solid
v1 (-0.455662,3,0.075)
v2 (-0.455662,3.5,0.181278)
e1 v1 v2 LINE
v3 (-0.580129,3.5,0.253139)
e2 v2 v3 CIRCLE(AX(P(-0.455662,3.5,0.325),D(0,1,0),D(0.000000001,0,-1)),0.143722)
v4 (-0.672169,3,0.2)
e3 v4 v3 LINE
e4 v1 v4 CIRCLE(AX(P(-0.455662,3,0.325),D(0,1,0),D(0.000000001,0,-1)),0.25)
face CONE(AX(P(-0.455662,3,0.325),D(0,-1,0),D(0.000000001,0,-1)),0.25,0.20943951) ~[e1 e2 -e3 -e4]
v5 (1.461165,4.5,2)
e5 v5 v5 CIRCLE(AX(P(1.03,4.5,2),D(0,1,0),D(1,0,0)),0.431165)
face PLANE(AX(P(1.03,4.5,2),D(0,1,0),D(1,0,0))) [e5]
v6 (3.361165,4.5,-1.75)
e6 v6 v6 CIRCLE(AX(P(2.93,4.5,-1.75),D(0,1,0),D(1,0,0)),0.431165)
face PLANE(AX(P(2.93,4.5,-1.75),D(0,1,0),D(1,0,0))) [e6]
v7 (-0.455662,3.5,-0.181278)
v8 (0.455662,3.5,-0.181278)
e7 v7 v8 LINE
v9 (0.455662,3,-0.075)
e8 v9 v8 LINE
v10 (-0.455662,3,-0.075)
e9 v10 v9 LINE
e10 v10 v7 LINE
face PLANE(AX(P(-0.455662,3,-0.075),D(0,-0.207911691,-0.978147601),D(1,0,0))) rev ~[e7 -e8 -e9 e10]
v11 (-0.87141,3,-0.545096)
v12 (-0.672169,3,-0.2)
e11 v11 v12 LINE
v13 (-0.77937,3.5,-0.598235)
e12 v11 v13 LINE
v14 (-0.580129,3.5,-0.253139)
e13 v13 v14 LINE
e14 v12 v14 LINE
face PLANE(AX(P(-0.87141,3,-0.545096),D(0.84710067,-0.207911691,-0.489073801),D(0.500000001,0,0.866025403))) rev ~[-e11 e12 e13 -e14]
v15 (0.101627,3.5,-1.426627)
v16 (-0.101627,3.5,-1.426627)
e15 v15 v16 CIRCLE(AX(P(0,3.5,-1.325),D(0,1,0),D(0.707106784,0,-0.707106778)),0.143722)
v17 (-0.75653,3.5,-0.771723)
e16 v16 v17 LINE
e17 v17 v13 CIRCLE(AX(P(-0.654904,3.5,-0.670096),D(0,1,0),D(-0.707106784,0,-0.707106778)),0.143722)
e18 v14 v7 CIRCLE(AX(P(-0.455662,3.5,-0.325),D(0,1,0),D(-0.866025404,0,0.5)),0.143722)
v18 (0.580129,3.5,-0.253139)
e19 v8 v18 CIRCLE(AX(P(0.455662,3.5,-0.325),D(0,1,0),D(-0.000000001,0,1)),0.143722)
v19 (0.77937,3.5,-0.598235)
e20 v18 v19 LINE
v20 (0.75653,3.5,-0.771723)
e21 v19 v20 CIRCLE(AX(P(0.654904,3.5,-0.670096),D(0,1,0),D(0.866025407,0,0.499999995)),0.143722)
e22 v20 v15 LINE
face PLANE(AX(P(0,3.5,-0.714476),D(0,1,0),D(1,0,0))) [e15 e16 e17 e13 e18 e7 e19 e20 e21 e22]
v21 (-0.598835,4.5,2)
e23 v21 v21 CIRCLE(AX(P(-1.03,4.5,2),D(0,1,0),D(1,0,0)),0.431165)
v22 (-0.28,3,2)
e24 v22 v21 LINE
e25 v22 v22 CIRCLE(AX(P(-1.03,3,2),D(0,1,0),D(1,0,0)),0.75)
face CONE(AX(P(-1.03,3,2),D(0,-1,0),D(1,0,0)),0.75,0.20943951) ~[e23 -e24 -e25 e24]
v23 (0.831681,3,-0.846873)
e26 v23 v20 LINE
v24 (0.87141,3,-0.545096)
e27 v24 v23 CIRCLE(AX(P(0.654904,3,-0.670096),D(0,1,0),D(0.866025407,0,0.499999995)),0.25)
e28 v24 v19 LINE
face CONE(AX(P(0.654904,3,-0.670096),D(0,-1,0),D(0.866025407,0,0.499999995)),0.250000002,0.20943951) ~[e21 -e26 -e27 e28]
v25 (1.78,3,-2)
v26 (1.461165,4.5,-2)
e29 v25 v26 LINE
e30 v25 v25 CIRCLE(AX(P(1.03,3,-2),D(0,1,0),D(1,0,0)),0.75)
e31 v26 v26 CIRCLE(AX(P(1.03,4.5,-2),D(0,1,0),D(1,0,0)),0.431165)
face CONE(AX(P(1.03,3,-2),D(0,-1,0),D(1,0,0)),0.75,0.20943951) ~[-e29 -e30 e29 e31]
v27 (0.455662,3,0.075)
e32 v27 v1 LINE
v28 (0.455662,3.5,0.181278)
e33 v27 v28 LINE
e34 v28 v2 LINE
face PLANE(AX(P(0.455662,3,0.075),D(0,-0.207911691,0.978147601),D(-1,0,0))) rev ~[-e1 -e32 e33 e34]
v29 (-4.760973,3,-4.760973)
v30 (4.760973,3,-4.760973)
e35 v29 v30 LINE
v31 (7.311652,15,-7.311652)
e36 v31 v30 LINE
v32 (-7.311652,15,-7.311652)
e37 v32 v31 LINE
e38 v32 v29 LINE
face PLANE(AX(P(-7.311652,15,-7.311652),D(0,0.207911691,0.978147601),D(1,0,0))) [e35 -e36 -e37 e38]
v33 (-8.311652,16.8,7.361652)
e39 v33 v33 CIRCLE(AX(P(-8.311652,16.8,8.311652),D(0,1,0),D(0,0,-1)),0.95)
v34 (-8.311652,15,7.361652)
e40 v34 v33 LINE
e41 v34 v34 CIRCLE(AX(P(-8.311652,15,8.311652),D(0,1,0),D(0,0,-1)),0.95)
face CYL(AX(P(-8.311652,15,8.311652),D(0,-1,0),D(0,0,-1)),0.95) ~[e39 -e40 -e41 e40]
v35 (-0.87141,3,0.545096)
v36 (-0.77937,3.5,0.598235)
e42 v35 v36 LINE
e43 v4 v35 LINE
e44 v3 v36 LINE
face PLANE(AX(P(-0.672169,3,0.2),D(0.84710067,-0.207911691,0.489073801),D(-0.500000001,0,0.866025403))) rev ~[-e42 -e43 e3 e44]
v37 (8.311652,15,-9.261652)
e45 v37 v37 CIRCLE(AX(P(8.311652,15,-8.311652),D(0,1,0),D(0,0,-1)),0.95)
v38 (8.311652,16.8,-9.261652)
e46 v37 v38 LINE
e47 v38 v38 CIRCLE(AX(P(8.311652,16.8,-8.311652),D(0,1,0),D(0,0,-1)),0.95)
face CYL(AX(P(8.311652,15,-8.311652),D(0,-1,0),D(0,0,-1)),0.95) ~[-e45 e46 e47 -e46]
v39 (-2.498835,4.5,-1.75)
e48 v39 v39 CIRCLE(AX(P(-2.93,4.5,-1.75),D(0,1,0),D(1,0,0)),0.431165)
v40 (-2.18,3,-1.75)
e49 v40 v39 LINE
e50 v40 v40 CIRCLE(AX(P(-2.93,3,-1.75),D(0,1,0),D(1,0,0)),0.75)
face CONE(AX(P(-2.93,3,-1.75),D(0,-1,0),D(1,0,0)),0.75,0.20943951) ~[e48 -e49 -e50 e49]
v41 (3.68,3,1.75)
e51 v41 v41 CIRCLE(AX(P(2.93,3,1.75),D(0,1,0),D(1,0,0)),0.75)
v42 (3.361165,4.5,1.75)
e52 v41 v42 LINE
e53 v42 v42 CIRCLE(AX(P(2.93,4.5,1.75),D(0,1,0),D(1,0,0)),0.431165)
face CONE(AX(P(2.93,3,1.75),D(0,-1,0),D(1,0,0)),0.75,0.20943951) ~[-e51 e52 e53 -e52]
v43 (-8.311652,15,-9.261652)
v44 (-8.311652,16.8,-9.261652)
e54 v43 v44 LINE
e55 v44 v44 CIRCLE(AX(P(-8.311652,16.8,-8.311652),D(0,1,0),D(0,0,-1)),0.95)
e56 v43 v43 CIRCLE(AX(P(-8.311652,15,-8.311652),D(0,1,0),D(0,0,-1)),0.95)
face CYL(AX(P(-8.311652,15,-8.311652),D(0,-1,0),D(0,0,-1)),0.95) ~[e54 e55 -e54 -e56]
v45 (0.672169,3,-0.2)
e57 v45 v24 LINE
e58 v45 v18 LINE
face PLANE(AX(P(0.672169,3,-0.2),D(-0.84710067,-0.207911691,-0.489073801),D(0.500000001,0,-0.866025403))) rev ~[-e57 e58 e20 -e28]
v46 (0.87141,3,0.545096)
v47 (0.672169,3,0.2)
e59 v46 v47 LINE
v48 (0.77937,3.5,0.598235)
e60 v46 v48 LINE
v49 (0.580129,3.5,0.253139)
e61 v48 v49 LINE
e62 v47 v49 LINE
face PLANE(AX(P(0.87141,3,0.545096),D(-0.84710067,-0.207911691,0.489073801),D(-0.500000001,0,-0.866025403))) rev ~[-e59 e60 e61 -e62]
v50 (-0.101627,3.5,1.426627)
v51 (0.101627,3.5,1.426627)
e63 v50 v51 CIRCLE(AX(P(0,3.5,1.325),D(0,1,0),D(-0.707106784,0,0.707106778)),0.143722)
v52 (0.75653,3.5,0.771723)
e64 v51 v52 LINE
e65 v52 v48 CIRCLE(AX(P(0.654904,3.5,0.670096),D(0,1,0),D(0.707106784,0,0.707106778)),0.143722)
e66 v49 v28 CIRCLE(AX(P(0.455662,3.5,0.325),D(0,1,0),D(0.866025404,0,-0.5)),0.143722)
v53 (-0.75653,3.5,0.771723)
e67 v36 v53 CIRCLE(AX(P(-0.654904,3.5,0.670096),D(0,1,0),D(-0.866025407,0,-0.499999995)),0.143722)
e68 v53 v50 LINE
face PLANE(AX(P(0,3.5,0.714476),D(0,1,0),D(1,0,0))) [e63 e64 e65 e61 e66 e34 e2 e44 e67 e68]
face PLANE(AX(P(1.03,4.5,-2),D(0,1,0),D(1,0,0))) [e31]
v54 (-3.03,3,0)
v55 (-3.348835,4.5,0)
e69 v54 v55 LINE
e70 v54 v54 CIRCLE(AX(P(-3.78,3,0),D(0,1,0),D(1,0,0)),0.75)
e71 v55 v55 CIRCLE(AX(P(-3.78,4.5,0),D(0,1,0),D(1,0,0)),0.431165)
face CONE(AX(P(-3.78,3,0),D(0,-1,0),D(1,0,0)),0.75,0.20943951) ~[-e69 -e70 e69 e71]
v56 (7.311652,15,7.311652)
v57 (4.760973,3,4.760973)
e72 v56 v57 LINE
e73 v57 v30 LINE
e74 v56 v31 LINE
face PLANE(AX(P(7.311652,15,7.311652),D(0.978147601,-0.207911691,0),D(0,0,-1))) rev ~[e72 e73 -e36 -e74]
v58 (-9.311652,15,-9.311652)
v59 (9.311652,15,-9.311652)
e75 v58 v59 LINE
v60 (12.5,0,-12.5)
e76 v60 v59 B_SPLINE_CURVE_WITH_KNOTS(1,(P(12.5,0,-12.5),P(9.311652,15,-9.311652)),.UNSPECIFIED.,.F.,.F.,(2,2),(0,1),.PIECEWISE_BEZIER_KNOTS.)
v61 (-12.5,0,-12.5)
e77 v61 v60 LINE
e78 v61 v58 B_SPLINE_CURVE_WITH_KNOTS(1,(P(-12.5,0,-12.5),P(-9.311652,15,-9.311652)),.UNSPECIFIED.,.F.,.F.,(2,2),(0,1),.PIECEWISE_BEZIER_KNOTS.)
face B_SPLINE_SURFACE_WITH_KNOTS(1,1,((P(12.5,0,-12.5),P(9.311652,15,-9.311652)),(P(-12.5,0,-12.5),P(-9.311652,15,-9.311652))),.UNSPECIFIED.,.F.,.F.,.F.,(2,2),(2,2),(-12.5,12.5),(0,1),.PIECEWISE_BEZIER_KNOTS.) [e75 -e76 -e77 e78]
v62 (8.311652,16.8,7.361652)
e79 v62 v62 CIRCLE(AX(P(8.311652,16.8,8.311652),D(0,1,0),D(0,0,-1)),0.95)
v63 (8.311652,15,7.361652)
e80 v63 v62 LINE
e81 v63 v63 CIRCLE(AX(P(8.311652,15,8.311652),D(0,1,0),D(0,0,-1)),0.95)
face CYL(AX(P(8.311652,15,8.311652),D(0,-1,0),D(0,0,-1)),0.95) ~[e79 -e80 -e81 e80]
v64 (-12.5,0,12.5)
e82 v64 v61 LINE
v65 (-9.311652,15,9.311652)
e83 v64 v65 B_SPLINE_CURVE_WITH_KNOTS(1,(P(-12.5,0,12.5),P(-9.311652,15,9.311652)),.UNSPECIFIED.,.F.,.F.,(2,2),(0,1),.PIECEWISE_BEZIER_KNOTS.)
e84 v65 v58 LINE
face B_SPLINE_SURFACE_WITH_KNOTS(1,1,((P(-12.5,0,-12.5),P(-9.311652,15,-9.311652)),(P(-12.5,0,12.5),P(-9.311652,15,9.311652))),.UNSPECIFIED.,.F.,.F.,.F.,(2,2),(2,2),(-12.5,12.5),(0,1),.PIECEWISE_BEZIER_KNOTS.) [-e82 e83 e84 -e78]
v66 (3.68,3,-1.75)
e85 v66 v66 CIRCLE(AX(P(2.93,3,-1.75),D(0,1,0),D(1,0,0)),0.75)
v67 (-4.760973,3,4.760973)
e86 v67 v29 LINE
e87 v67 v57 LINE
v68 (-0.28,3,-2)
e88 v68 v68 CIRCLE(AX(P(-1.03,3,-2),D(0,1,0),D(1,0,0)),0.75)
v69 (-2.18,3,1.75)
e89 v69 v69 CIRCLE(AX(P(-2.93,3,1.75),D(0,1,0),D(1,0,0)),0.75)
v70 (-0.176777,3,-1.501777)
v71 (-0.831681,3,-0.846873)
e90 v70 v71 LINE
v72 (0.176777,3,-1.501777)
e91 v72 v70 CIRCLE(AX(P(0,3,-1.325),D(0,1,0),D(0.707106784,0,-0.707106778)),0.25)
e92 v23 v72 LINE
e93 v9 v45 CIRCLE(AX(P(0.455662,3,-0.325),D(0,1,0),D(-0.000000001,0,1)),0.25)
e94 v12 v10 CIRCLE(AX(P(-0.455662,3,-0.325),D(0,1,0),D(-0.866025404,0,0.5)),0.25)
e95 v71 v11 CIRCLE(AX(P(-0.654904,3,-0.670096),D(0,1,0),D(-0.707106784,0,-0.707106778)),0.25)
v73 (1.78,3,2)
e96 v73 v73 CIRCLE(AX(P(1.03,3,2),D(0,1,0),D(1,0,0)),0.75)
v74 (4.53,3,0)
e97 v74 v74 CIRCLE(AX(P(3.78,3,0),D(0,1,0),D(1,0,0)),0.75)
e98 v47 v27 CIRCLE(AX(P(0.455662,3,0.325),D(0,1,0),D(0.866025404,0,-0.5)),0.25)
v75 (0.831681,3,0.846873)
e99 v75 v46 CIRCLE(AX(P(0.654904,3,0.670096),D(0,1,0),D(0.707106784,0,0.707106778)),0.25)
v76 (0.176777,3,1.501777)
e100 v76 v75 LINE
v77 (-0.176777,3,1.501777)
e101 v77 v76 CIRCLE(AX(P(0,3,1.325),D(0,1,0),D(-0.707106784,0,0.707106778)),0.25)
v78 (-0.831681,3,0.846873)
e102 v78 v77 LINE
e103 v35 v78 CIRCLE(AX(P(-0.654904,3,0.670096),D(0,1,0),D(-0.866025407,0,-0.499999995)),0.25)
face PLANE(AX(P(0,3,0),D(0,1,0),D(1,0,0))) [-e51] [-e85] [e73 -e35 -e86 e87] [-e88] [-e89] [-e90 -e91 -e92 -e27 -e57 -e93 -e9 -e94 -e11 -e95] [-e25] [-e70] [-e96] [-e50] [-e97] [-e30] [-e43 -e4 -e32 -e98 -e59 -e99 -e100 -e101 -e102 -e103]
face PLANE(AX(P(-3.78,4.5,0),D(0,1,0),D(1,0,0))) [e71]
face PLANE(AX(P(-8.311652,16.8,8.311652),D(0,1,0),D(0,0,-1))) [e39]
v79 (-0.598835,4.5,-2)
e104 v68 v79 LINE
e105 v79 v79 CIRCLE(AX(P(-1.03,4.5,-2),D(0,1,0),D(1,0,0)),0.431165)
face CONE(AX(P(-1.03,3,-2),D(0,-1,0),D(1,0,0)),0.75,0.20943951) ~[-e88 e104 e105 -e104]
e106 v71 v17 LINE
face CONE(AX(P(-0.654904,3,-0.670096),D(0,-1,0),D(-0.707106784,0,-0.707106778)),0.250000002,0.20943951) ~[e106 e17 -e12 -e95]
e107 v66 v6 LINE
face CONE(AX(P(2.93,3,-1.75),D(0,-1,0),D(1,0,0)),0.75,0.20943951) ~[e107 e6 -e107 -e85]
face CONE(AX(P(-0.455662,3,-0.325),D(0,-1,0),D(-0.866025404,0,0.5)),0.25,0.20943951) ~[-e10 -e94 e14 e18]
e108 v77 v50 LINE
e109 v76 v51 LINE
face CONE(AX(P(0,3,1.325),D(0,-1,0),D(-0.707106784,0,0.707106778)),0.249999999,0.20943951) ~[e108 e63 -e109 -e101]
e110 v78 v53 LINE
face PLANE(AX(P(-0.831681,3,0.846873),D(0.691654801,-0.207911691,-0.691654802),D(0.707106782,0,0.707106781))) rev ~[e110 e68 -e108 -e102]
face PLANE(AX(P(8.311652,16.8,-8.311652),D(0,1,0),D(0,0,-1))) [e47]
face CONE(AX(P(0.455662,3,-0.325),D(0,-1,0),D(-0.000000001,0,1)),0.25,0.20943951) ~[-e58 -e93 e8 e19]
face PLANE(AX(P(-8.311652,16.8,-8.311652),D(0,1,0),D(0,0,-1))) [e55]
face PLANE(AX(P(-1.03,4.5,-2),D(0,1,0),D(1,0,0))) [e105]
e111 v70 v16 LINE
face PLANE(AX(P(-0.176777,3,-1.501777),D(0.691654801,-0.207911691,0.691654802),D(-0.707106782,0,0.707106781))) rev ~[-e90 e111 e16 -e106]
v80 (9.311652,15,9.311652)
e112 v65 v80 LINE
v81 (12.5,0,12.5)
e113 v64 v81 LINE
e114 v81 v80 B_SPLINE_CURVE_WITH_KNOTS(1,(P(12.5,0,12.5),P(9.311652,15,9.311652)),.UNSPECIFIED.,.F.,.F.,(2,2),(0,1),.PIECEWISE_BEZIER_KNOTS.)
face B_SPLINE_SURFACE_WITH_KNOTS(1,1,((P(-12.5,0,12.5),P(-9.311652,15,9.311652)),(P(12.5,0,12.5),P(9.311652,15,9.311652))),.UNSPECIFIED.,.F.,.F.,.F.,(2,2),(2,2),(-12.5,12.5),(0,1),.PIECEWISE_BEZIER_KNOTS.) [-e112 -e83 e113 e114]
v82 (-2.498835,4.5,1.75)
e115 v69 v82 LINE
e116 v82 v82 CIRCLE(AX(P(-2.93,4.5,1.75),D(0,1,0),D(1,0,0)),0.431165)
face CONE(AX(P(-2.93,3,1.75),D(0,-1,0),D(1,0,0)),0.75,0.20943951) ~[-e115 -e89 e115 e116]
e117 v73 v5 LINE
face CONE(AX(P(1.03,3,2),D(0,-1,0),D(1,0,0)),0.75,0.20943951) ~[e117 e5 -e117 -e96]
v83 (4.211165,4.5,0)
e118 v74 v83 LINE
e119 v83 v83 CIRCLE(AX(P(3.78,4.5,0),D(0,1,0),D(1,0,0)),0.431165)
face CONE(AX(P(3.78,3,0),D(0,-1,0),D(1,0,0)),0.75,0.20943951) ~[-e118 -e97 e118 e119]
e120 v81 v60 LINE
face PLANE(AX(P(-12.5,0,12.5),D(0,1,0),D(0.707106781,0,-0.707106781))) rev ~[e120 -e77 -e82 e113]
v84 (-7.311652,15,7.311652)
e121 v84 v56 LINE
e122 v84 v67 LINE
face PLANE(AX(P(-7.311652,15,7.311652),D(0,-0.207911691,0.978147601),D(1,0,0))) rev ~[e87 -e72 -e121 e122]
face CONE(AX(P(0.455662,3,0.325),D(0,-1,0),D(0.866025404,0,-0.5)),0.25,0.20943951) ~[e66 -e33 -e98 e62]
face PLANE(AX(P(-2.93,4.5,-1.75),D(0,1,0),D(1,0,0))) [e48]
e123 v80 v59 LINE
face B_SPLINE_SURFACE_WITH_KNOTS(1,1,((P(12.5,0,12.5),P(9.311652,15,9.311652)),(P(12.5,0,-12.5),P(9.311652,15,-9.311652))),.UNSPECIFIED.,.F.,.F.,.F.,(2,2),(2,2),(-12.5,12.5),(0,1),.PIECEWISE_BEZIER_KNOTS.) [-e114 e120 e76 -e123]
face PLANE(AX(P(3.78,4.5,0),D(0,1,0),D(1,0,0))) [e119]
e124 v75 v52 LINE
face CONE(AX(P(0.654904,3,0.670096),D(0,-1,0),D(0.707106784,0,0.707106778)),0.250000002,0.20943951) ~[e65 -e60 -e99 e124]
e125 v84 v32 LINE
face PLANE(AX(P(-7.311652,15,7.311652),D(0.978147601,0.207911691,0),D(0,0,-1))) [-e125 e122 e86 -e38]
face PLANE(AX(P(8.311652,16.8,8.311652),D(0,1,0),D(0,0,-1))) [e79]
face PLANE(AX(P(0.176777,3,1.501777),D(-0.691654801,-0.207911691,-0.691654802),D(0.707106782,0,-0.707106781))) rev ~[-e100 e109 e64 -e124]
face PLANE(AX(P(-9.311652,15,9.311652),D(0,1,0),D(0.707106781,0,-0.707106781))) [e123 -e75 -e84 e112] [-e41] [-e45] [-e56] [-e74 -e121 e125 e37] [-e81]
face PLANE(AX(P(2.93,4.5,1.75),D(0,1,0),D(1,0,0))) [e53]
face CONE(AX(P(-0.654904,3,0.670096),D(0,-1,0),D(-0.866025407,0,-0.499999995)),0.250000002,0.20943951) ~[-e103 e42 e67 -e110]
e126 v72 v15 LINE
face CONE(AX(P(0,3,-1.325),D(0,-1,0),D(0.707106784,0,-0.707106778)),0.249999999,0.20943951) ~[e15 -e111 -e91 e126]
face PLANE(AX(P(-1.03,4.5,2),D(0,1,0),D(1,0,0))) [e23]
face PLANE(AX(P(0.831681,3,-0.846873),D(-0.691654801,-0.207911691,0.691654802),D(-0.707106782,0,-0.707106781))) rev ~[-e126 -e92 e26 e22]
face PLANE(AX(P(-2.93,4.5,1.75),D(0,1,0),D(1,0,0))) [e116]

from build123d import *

# Parameters (mm, degrees)
SKETCH4_W                     = 25
SKETCH4_H                     = 25
BASE_DEPTH                    = 15
BASE_TAPER                    = 12
SKETCH5_W                     = 14.62330315
SKETCH5_H                     = 14.62330315
RESERVOIR_DEPTH               = 12
RESERVOIR_DRAFT               = -12
SKETCH1_R                     = 0.75
PILLARS_DEPTH                 = 1.5
PILLARS_DRAFT                 = 12
PILLARS_PROFILE_2_DEPTH       = 1.5
PILLARS_PROFILE_2_DRAFT       = 12
PILLARS_PROFILE_3_DEPTH       = 1.5
PILLARS_PROFILE_3_DRAFT       = 12
PILLARS_PROFILE_4_DEPTH       = 1.5
PILLARS_PROFILE_4_DRAFT       = 12
PILLARS_PROFILE_5_DEPTH       = 1.5
PILLARS_PROFILE_5_DRAFT       = 12
PILLARS_PROFILE_6_DEPTH       = 1.5
PILLARS_PROFILE_6_DRAFT       = 12
PILLARS_PROFILE_7_DEPTH       = 1.5
PILLARS_PROFILE_7_DRAFT       = 12
PILLARS_PROFILE_8_DEPTH       = 1.5
PILLARS_PROFILE_8_DRAFT       = 12
PILLARS_PROFILE_9_DEPTH       = 1.5
PILLARS_PROFILE_9_DRAFT       = 12
PILLARS_PROFILE_10_DEPTH      = 1.5
PILLARS_PROFILE_10_DRAFT      = 12
CHANNEL_WALLS_DEPTH           = 0.5
CHANNEL_WALLS_DRAFT           = 12
CHANNEL_WALLS_PROFILE_2_DEPTH = 0.5
CHANNEL_WALLS_PROFILE_2_DRAFT = 12
SKETCH11_R                    = 0.95
PEGS_DEPTH                    = 1.8


with BuildPart() as part:
    # Sketch4 → Base (new body)
    with BuildSketch(Plane(origin=(0, 0, 0), x_dir=(1, 0, 0), z_dir=(0, 1, 0))):
        Rectangle(SKETCH4_W, SKETCH4_H)
    extrude(amount=BASE_DEPTH, taper=BASE_TAPER)


with BuildPart() as reservoir_tool:
    # Sketch5 → Reservoir (with draft: the straight prism first)
    with BuildSketch(Plane(origin=(0, 15, 0), x_dir=(1, 0, 0), z_dir=(0, 1, 0))):
        Rectangle(SKETCH5_W, SKETCH5_H)
    extrude(amount=-RESERVOIR_DEPTH)
    # Reservoir: the draft: its side faces are tilted about the plane it starts from
    reservoir_sides = [reservoir_tool.faces().sort_by_distance(p)[0] for p in [
        (-7.311651575, 9, 0),
        (0, 9, 7.311651575),
        (7.311651575, 9, 0),
        (0, 9, -7.311651575),
    ]]
    draft(reservoir_sides, Plane(origin=(0, 15, 0), x_dir=(1, 0, 0), z_dir=(0, 1, 0)), RESERVOIR_DRAFT)


with BuildPart() as part_1:
    add(part.part)

    # Reservoir: cut by reservoir_tool
    add(reservoir_tool.part, mode=Mode.SUBTRACT)


with BuildPart() as pillars_tool:
    # Sketch1 → Pillars (with draft: the straight prism first)
    with BuildSketch(Plane(origin=(0, 3, 0), x_dir=(1, 0, 0), z_dir=(0, 1, 0))):
        with Locations((-3.78, 0)):
            Circle(SKETCH1_R)
    extrude(amount=PILLARS_DEPTH)
    # Pillars: the draft: its side faces are tilted about the plane it starts from
    pillars_sides = [pillars_tool.faces().sort_by_distance(p)[0] for p in [
        (-4.53, 3.75, 0),
    ]]
    draft(pillars_sides, Plane(origin=(0, 3, 0), x_dir=(1, 0, 0), z_dir=(0, 1, 0)), PILLARS_DRAFT)


with BuildPart() as part_2:
    add(part_1.part)

    # Pillars: add pillars_tool
    add(pillars_tool.part)


with BuildPart() as pillars_profile_2_tool:
    # Sketch1 → Pillars profile 2 (with draft: the straight prism first)
    with BuildSketch(Plane(origin=(0, 3, 0), x_dir=(1, 0, 0), z_dir=(0, 1, 0))):
        with Locations((3.78, 0)):
            Circle(SKETCH1_R)
    extrude(amount=PILLARS_PROFILE_2_DEPTH)
    # Pillars profile 2: the draft: its side faces are tilted about the plane it starts from
    pillars_profile_2_sides = [pillars_profile_2_tool.faces().sort_by_distance(p)[0] for p in [
        (3.03, 3.75, 0),
    ]]
    draft(pillars_profile_2_sides, Plane(origin=(0, 3, 0), x_dir=(1, 0, 0), z_dir=(0, 1, 0)), PILLARS_PROFILE_2_DRAFT)


with BuildPart() as part_3:
    add(part_2.part)

    # Pillars profile 2: add pillars_profile_2_tool
    add(pillars_profile_2_tool.part)


with BuildPart() as pillars_profile_3_tool:
    # Sketch1 → Pillars profile 3 (with draft: the straight prism first)
    with BuildSketch(Plane(origin=(0, 3, 0), x_dir=(1, 0, 0), z_dir=(0, 1, 0))):
        with Locations((2.93, 1.75)):
            Circle(SKETCH1_R)
    extrude(amount=PILLARS_PROFILE_3_DEPTH)
    # Pillars profile 3: the draft: its side faces are tilted about the plane it starts from
    pillars_profile_3_sides = [pillars_profile_3_tool.faces().sort_by_distance(p)[0] for p in [
        (2.18, 3.75, -1.75),
    ]]
    draft(pillars_profile_3_sides, Plane(origin=(0, 3, 0), x_dir=(1, 0, 0), z_dir=(0, 1, 0)), PILLARS_PROFILE_3_DRAFT)


with BuildPart() as part_4:
    add(part_3.part)

    # Pillars profile 3: add pillars_profile_3_tool
    add(pillars_profile_3_tool.part)


with BuildPart() as pillars_profile_4_tool:
    # Sketch1 → Pillars profile 4 (with draft: the straight prism first)
    with BuildSketch(Plane(origin=(0, 3, 0), x_dir=(1, 0, 0), z_dir=(0, 1, 0))):
        with Locations((2.93, -1.75)):
            Circle(SKETCH1_R)
    extrude(amount=PILLARS_PROFILE_4_DEPTH)
    # Pillars profile 4: the draft: its side faces are tilted about the plane it starts from
    pillars_profile_4_sides = [pillars_profile_4_tool.faces().sort_by_distance(p)[0] for p in [
        (2.18, 3.75, 1.75),
    ]]
    draft(pillars_profile_4_sides, Plane(origin=(0, 3, 0), x_dir=(1, 0, 0), z_dir=(0, 1, 0)), PILLARS_PROFILE_4_DRAFT)


with BuildPart() as part_5:
    add(part_4.part)

    # Pillars profile 4: add pillars_profile_4_tool
    add(pillars_profile_4_tool.part)


with BuildPart() as pillars_profile_5_tool:
    # Sketch1 → Pillars profile 5 (with draft: the straight prism first)
    with BuildSketch(Plane(origin=(0, 3, 0), x_dir=(1, 0, 0), z_dir=(0, 1, 0))):
        with Locations((-2.93, -1.75)):
            Circle(SKETCH1_R)
    extrude(amount=PILLARS_PROFILE_5_DEPTH)
    # Pillars profile 5: the draft: its side faces are tilted about the plane it starts from
    pillars_profile_5_sides = [pillars_profile_5_tool.faces().sort_by_distance(p)[0] for p in [
        (-3.68, 3.75, 1.75),
    ]]
    draft(pillars_profile_5_sides, Plane(origin=(0, 3, 0), x_dir=(1, 0, 0), z_dir=(0, 1, 0)), PILLARS_PROFILE_5_DRAFT)


with BuildPart() as part_6:
    add(part_5.part)

    # Pillars profile 5: add pillars_profile_5_tool
    add(pillars_profile_5_tool.part)


with BuildPart() as pillars_profile_6_tool:
    # Sketch1 → Pillars profile 6 (with draft: the straight prism first)
    with BuildSketch(Plane(origin=(0, 3, 0), x_dir=(1, 0, 0), z_dir=(0, 1, 0))):
        with Locations((-2.93, 1.75)):
            Circle(SKETCH1_R)
    extrude(amount=PILLARS_PROFILE_6_DEPTH)
    # Pillars profile 6: the draft: its side faces are tilted about the plane it starts from
    pillars_profile_6_sides = [pillars_profile_6_tool.faces().sort_by_distance(p)[0] for p in [
        (-3.68, 3.75, -1.75),
    ]]
    draft(pillars_profile_6_sides, Plane(origin=(0, 3, 0), x_dir=(1, 0, 0), z_dir=(0, 1, 0)), PILLARS_PROFILE_6_DRAFT)


with BuildPart() as part_7:
    add(part_6.part)

    # Pillars profile 6: add pillars_profile_6_tool
    add(pillars_profile_6_tool.part)


with BuildPart() as pillars_profile_7_tool:
    # Sketch1 → Pillars profile 7 (with draft: the straight prism first)
    with BuildSketch(Plane(origin=(0, 3, 0), x_dir=(1, 0, 0), z_dir=(0, 1, 0))):
        with Locations((1.03, 2)):
            Circle(SKETCH1_R)
    extrude(amount=PILLARS_PROFILE_7_DEPTH)
    # Pillars profile 7: the draft: its side faces are tilted about the plane it starts from
    pillars_profile_7_sides = [pillars_profile_7_tool.faces().sort_by_distance(p)[0] for p in [
        (0.28, 3.75, -2),
    ]]
    draft(pillars_profile_7_sides, Plane(origin=(0, 3, 0), x_dir=(1, 0, 0), z_dir=(0, 1, 0)), PILLARS_PROFILE_7_DRAFT)


with BuildPart() as part_8:
    add(part_7.part)

    # Pillars profile 7: add pillars_profile_7_tool
    add(pillars_profile_7_tool.part)


with BuildPart() as pillars_profile_8_tool:
    # Sketch1 → Pillars profile 8 (with draft: the straight prism first)
    with BuildSketch(Plane(origin=(0, 3, 0), x_dir=(1, 0, 0), z_dir=(0, 1, 0))):
        with Locations((1.03, -2)):
            Circle(SKETCH1_R)
    extrude(amount=PILLARS_PROFILE_8_DEPTH)
    # Pillars profile 8: the draft: its side faces are tilted about the plane it starts from
    pillars_profile_8_sides = [pillars_profile_8_tool.faces().sort_by_distance(p)[0] for p in [
        (0.28, 3.75, 2),
    ]]
    draft(pillars_profile_8_sides, Plane(origin=(0, 3, 0), x_dir=(1, 0, 0), z_dir=(0, 1, 0)), PILLARS_PROFILE_8_DRAFT)


with BuildPart() as part_9:
    add(part_8.part)

    # Pillars profile 8: add pillars_profile_8_tool
    add(pillars_profile_8_tool.part)


with BuildPart() as pillars_profile_9_tool:
    # Sketch1 → Pillars profile 9 (with draft: the straight prism first)
    with BuildSketch(Plane(origin=(0, 3, 0), x_dir=(1, 0, 0), z_dir=(0, 1, 0))):
        with Locations((-1.03, 2)):
            Circle(SKETCH1_R)
    extrude(amount=PILLARS_PROFILE_9_DEPTH)
    # Pillars profile 9: the draft: its side faces are tilted about the plane it starts from
    pillars_profile_9_sides = [pillars_profile_9_tool.faces().sort_by_distance(p)[0] for p in [
        (-1.78, 3.75, -2),
    ]]
    draft(pillars_profile_9_sides, Plane(origin=(0, 3, 0), x_dir=(1, 0, 0), z_dir=(0, 1, 0)), PILLARS_PROFILE_9_DRAFT)


with BuildPart() as part_10:
    add(part_9.part)

    # Pillars profile 9: add pillars_profile_9_tool
    add(pillars_profile_9_tool.part)


with BuildPart() as pillars_profile_10_tool:
    # Sketch1 → Pillars profile 10 (with draft: the straight prism first)
    with BuildSketch(Plane(origin=(0, 3, 0), x_dir=(1, 0, 0), z_dir=(0, 1, 0))):
        with Locations((-1.03, -2)):
            Circle(SKETCH1_R)
    extrude(amount=PILLARS_PROFILE_10_DEPTH)
    # Pillars profile 10: the draft: its side faces are tilted about the plane it starts from
    pillars_profile_10_sides = [pillars_profile_10_tool.faces().sort_by_distance(p)[0] for p in [
        (-1.78, 3.75, 2),
    ]]
    draft(pillars_profile_10_sides, Plane(origin=(0, 3, 0), x_dir=(1, 0, 0), z_dir=(0, 1, 0)), PILLARS_PROFILE_10_DRAFT)


with BuildPart() as part_11:
    add(part_10.part)

    # Pillars profile 10: add pillars_profile_10_tool
    add(pillars_profile_10_tool.part)


with BuildPart() as channel_walls_tool:
    # Sketch1<10> → Channel Walls (with draft: the straight prism first)
    with BuildSketch(Plane(origin=(0, 3, 0), x_dir=(1, 0, 0), z_dir=(0, 1, 0))):
        with BuildLine():
            Line((-0.871410162, 0.545096189), (-0.672168784, 0.2))
            ThreePointArc((-0.672168784, 0.2), (-0.580662433, 0.108493649), (-0.455662433, 0.075))
            Line((-0.455662433, 0.075), (0.455662433, 0.075))
            ThreePointArc((0.455662433, 0.075), (0.580662433, 0.108493649), (0.672168784, 0.2))
            Line((0.672168784, 0.2), (0.871410162, 0.545096189))
            ThreePointArc((0.871410162, 0.545096189), (0.902765026, 0.702727737), (0.831680506, 0.846872885))
            Line((0.831680506, 0.846872885), (0.176776695, 1.501776695))
            ThreePointArc((0.176776695, 1.501776695), (0, 1.575), (-0.176776695, 1.501776695))
            Line((-0.176776695, 1.501776695), (-0.831680506, 0.846872885))
            ThreePointArc((-0.831680506, 0.846872885), (-0.902765026, 0.702727737), (-0.871410162, 0.545096189))
        make_face()
    extrude(amount=CHANNEL_WALLS_DEPTH)
    # Channel Walls: the draft: its side faces are tilted about the plane it starts from
    channel_walls_sides = [channel_walls_tool.faces().sort_by_distance(p)[0] for p in [
        (-0.771789473, 3.25, -0.372548095),
        (-0.580662433, 3.25, -0.108493649),
        (0, 3.25, -0.075),
        (0.580662433, 3.25, -0.108493649),
        (0.771789473, 3.25, -0.372548095),
        (0.902765026, 3.25, -0.702727737),
        (0.504228601, 3.25, -1.17432479),
        (0, 3.25, -1.575),
        (-0.504228601, 3.25, -1.17432479),
        (-0.902765026, 3.25, -0.702727737),
    ]]
    draft(channel_walls_sides, Plane(origin=(0, 3, 0), x_dir=(1, 0, 0), z_dir=(0, 1, 0)), CHANNEL_WALLS_DRAFT)


with BuildPart() as part_12:
    add(part_11.part)

    # Channel Walls: add channel_walls_tool
    add(channel_walls_tool.part)


with BuildPart() as channel_walls_profile_2_tool:
    # Sketch1<10> → Channel Walls profile 2 (with draft: the straight prism first)
    with BuildSketch(Plane(origin=(0, 3, 0), x_dir=(1, 0, 0), z_dir=(0, 1, 0))):
        with BuildLine():
            Line((0.871410162, -0.545096189), (0.672168784, -0.2))
            ThreePointArc((0.672168784, -0.2), (0.580662433, -0.108493649), (0.455662433, -0.075))
            Line((0.455662433, -0.075), (-0.455662433, -0.075))
            ThreePointArc((-0.455662433, -0.075), (-0.580662433, -0.108493649), (-0.672168784, -0.2))
            Line((-0.672168784, -0.2), (-0.871410162, -0.545096189))
            ThreePointArc((-0.871410162, -0.545096189), (-0.902765026, -0.702727737), (-0.831680506, -0.846872885))
            Line((-0.831680506, -0.846872885), (-0.176776695, -1.501776695))
            ThreePointArc((-0.176776695, -1.501776695), (0, -1.575), (0.176776695, -1.501776695))
            Line((0.176776695, -1.501776695), (0.831680506, -0.846872885))
            ThreePointArc((0.831680506, -0.846872885), (0.902765026, -0.702727737), (0.871410162, -0.545096189))
        make_face()
    extrude(amount=CHANNEL_WALLS_PROFILE_2_DEPTH)
    # Channel Walls profile 2: the draft: its side faces are tilted about the plane it starts from
    channel_walls_profile_2_sides = [channel_walls_profile_2_tool.faces().sort_by_distance(p)[0] for p in [
        (0.771789473, 3.25, 0.372548095),
        (0.580662433, 3.25, 0.108493649),
        (0, 3.25, 0.075),
        (-0.580662433, 3.25, 0.108493649),
        (-0.771789473, 3.25, 0.372548095),
        (-0.902765026, 3.25, 0.702727737),
        (-0.504228601, 3.25, 1.17432479),
        (0, 3.25, 1.575),
        (0.504228601, 3.25, 1.17432479),
        (0.902765026, 3.25, 0.702727737),
    ]]
    draft(channel_walls_profile_2_sides, Plane(origin=(0, 3, 0), x_dir=(1, 0, 0), z_dir=(0, 1, 0)), CHANNEL_WALLS_PROFILE_2_DRAFT)


with BuildPart() as part_13:
    add(part_12.part)

    # Channel Walls profile 2: add channel_walls_profile_2_tool
    add(channel_walls_profile_2_tool.part)

    # Sketch11 → Pegs (add)
    with BuildSketch(Plane(origin=(0, 15, 0), x_dir=(1, 0, 0), z_dir=(0, 1, 0))):
        with Locations((8.311651575, 8.311651575)):
            Circle(SKETCH11_R)
        with Locations((-8.311651575, 8.311651575)):
            Circle(SKETCH11_R)
        with Locations((-8.311651575, -8.311651575)):
            Circle(SKETCH11_R)
        with Locations((8.311651575, -8.311651575)):
            Circle(SKETCH11_R)
    extrude(amount=PEGS_DEPTH)


solid = part_13.part
